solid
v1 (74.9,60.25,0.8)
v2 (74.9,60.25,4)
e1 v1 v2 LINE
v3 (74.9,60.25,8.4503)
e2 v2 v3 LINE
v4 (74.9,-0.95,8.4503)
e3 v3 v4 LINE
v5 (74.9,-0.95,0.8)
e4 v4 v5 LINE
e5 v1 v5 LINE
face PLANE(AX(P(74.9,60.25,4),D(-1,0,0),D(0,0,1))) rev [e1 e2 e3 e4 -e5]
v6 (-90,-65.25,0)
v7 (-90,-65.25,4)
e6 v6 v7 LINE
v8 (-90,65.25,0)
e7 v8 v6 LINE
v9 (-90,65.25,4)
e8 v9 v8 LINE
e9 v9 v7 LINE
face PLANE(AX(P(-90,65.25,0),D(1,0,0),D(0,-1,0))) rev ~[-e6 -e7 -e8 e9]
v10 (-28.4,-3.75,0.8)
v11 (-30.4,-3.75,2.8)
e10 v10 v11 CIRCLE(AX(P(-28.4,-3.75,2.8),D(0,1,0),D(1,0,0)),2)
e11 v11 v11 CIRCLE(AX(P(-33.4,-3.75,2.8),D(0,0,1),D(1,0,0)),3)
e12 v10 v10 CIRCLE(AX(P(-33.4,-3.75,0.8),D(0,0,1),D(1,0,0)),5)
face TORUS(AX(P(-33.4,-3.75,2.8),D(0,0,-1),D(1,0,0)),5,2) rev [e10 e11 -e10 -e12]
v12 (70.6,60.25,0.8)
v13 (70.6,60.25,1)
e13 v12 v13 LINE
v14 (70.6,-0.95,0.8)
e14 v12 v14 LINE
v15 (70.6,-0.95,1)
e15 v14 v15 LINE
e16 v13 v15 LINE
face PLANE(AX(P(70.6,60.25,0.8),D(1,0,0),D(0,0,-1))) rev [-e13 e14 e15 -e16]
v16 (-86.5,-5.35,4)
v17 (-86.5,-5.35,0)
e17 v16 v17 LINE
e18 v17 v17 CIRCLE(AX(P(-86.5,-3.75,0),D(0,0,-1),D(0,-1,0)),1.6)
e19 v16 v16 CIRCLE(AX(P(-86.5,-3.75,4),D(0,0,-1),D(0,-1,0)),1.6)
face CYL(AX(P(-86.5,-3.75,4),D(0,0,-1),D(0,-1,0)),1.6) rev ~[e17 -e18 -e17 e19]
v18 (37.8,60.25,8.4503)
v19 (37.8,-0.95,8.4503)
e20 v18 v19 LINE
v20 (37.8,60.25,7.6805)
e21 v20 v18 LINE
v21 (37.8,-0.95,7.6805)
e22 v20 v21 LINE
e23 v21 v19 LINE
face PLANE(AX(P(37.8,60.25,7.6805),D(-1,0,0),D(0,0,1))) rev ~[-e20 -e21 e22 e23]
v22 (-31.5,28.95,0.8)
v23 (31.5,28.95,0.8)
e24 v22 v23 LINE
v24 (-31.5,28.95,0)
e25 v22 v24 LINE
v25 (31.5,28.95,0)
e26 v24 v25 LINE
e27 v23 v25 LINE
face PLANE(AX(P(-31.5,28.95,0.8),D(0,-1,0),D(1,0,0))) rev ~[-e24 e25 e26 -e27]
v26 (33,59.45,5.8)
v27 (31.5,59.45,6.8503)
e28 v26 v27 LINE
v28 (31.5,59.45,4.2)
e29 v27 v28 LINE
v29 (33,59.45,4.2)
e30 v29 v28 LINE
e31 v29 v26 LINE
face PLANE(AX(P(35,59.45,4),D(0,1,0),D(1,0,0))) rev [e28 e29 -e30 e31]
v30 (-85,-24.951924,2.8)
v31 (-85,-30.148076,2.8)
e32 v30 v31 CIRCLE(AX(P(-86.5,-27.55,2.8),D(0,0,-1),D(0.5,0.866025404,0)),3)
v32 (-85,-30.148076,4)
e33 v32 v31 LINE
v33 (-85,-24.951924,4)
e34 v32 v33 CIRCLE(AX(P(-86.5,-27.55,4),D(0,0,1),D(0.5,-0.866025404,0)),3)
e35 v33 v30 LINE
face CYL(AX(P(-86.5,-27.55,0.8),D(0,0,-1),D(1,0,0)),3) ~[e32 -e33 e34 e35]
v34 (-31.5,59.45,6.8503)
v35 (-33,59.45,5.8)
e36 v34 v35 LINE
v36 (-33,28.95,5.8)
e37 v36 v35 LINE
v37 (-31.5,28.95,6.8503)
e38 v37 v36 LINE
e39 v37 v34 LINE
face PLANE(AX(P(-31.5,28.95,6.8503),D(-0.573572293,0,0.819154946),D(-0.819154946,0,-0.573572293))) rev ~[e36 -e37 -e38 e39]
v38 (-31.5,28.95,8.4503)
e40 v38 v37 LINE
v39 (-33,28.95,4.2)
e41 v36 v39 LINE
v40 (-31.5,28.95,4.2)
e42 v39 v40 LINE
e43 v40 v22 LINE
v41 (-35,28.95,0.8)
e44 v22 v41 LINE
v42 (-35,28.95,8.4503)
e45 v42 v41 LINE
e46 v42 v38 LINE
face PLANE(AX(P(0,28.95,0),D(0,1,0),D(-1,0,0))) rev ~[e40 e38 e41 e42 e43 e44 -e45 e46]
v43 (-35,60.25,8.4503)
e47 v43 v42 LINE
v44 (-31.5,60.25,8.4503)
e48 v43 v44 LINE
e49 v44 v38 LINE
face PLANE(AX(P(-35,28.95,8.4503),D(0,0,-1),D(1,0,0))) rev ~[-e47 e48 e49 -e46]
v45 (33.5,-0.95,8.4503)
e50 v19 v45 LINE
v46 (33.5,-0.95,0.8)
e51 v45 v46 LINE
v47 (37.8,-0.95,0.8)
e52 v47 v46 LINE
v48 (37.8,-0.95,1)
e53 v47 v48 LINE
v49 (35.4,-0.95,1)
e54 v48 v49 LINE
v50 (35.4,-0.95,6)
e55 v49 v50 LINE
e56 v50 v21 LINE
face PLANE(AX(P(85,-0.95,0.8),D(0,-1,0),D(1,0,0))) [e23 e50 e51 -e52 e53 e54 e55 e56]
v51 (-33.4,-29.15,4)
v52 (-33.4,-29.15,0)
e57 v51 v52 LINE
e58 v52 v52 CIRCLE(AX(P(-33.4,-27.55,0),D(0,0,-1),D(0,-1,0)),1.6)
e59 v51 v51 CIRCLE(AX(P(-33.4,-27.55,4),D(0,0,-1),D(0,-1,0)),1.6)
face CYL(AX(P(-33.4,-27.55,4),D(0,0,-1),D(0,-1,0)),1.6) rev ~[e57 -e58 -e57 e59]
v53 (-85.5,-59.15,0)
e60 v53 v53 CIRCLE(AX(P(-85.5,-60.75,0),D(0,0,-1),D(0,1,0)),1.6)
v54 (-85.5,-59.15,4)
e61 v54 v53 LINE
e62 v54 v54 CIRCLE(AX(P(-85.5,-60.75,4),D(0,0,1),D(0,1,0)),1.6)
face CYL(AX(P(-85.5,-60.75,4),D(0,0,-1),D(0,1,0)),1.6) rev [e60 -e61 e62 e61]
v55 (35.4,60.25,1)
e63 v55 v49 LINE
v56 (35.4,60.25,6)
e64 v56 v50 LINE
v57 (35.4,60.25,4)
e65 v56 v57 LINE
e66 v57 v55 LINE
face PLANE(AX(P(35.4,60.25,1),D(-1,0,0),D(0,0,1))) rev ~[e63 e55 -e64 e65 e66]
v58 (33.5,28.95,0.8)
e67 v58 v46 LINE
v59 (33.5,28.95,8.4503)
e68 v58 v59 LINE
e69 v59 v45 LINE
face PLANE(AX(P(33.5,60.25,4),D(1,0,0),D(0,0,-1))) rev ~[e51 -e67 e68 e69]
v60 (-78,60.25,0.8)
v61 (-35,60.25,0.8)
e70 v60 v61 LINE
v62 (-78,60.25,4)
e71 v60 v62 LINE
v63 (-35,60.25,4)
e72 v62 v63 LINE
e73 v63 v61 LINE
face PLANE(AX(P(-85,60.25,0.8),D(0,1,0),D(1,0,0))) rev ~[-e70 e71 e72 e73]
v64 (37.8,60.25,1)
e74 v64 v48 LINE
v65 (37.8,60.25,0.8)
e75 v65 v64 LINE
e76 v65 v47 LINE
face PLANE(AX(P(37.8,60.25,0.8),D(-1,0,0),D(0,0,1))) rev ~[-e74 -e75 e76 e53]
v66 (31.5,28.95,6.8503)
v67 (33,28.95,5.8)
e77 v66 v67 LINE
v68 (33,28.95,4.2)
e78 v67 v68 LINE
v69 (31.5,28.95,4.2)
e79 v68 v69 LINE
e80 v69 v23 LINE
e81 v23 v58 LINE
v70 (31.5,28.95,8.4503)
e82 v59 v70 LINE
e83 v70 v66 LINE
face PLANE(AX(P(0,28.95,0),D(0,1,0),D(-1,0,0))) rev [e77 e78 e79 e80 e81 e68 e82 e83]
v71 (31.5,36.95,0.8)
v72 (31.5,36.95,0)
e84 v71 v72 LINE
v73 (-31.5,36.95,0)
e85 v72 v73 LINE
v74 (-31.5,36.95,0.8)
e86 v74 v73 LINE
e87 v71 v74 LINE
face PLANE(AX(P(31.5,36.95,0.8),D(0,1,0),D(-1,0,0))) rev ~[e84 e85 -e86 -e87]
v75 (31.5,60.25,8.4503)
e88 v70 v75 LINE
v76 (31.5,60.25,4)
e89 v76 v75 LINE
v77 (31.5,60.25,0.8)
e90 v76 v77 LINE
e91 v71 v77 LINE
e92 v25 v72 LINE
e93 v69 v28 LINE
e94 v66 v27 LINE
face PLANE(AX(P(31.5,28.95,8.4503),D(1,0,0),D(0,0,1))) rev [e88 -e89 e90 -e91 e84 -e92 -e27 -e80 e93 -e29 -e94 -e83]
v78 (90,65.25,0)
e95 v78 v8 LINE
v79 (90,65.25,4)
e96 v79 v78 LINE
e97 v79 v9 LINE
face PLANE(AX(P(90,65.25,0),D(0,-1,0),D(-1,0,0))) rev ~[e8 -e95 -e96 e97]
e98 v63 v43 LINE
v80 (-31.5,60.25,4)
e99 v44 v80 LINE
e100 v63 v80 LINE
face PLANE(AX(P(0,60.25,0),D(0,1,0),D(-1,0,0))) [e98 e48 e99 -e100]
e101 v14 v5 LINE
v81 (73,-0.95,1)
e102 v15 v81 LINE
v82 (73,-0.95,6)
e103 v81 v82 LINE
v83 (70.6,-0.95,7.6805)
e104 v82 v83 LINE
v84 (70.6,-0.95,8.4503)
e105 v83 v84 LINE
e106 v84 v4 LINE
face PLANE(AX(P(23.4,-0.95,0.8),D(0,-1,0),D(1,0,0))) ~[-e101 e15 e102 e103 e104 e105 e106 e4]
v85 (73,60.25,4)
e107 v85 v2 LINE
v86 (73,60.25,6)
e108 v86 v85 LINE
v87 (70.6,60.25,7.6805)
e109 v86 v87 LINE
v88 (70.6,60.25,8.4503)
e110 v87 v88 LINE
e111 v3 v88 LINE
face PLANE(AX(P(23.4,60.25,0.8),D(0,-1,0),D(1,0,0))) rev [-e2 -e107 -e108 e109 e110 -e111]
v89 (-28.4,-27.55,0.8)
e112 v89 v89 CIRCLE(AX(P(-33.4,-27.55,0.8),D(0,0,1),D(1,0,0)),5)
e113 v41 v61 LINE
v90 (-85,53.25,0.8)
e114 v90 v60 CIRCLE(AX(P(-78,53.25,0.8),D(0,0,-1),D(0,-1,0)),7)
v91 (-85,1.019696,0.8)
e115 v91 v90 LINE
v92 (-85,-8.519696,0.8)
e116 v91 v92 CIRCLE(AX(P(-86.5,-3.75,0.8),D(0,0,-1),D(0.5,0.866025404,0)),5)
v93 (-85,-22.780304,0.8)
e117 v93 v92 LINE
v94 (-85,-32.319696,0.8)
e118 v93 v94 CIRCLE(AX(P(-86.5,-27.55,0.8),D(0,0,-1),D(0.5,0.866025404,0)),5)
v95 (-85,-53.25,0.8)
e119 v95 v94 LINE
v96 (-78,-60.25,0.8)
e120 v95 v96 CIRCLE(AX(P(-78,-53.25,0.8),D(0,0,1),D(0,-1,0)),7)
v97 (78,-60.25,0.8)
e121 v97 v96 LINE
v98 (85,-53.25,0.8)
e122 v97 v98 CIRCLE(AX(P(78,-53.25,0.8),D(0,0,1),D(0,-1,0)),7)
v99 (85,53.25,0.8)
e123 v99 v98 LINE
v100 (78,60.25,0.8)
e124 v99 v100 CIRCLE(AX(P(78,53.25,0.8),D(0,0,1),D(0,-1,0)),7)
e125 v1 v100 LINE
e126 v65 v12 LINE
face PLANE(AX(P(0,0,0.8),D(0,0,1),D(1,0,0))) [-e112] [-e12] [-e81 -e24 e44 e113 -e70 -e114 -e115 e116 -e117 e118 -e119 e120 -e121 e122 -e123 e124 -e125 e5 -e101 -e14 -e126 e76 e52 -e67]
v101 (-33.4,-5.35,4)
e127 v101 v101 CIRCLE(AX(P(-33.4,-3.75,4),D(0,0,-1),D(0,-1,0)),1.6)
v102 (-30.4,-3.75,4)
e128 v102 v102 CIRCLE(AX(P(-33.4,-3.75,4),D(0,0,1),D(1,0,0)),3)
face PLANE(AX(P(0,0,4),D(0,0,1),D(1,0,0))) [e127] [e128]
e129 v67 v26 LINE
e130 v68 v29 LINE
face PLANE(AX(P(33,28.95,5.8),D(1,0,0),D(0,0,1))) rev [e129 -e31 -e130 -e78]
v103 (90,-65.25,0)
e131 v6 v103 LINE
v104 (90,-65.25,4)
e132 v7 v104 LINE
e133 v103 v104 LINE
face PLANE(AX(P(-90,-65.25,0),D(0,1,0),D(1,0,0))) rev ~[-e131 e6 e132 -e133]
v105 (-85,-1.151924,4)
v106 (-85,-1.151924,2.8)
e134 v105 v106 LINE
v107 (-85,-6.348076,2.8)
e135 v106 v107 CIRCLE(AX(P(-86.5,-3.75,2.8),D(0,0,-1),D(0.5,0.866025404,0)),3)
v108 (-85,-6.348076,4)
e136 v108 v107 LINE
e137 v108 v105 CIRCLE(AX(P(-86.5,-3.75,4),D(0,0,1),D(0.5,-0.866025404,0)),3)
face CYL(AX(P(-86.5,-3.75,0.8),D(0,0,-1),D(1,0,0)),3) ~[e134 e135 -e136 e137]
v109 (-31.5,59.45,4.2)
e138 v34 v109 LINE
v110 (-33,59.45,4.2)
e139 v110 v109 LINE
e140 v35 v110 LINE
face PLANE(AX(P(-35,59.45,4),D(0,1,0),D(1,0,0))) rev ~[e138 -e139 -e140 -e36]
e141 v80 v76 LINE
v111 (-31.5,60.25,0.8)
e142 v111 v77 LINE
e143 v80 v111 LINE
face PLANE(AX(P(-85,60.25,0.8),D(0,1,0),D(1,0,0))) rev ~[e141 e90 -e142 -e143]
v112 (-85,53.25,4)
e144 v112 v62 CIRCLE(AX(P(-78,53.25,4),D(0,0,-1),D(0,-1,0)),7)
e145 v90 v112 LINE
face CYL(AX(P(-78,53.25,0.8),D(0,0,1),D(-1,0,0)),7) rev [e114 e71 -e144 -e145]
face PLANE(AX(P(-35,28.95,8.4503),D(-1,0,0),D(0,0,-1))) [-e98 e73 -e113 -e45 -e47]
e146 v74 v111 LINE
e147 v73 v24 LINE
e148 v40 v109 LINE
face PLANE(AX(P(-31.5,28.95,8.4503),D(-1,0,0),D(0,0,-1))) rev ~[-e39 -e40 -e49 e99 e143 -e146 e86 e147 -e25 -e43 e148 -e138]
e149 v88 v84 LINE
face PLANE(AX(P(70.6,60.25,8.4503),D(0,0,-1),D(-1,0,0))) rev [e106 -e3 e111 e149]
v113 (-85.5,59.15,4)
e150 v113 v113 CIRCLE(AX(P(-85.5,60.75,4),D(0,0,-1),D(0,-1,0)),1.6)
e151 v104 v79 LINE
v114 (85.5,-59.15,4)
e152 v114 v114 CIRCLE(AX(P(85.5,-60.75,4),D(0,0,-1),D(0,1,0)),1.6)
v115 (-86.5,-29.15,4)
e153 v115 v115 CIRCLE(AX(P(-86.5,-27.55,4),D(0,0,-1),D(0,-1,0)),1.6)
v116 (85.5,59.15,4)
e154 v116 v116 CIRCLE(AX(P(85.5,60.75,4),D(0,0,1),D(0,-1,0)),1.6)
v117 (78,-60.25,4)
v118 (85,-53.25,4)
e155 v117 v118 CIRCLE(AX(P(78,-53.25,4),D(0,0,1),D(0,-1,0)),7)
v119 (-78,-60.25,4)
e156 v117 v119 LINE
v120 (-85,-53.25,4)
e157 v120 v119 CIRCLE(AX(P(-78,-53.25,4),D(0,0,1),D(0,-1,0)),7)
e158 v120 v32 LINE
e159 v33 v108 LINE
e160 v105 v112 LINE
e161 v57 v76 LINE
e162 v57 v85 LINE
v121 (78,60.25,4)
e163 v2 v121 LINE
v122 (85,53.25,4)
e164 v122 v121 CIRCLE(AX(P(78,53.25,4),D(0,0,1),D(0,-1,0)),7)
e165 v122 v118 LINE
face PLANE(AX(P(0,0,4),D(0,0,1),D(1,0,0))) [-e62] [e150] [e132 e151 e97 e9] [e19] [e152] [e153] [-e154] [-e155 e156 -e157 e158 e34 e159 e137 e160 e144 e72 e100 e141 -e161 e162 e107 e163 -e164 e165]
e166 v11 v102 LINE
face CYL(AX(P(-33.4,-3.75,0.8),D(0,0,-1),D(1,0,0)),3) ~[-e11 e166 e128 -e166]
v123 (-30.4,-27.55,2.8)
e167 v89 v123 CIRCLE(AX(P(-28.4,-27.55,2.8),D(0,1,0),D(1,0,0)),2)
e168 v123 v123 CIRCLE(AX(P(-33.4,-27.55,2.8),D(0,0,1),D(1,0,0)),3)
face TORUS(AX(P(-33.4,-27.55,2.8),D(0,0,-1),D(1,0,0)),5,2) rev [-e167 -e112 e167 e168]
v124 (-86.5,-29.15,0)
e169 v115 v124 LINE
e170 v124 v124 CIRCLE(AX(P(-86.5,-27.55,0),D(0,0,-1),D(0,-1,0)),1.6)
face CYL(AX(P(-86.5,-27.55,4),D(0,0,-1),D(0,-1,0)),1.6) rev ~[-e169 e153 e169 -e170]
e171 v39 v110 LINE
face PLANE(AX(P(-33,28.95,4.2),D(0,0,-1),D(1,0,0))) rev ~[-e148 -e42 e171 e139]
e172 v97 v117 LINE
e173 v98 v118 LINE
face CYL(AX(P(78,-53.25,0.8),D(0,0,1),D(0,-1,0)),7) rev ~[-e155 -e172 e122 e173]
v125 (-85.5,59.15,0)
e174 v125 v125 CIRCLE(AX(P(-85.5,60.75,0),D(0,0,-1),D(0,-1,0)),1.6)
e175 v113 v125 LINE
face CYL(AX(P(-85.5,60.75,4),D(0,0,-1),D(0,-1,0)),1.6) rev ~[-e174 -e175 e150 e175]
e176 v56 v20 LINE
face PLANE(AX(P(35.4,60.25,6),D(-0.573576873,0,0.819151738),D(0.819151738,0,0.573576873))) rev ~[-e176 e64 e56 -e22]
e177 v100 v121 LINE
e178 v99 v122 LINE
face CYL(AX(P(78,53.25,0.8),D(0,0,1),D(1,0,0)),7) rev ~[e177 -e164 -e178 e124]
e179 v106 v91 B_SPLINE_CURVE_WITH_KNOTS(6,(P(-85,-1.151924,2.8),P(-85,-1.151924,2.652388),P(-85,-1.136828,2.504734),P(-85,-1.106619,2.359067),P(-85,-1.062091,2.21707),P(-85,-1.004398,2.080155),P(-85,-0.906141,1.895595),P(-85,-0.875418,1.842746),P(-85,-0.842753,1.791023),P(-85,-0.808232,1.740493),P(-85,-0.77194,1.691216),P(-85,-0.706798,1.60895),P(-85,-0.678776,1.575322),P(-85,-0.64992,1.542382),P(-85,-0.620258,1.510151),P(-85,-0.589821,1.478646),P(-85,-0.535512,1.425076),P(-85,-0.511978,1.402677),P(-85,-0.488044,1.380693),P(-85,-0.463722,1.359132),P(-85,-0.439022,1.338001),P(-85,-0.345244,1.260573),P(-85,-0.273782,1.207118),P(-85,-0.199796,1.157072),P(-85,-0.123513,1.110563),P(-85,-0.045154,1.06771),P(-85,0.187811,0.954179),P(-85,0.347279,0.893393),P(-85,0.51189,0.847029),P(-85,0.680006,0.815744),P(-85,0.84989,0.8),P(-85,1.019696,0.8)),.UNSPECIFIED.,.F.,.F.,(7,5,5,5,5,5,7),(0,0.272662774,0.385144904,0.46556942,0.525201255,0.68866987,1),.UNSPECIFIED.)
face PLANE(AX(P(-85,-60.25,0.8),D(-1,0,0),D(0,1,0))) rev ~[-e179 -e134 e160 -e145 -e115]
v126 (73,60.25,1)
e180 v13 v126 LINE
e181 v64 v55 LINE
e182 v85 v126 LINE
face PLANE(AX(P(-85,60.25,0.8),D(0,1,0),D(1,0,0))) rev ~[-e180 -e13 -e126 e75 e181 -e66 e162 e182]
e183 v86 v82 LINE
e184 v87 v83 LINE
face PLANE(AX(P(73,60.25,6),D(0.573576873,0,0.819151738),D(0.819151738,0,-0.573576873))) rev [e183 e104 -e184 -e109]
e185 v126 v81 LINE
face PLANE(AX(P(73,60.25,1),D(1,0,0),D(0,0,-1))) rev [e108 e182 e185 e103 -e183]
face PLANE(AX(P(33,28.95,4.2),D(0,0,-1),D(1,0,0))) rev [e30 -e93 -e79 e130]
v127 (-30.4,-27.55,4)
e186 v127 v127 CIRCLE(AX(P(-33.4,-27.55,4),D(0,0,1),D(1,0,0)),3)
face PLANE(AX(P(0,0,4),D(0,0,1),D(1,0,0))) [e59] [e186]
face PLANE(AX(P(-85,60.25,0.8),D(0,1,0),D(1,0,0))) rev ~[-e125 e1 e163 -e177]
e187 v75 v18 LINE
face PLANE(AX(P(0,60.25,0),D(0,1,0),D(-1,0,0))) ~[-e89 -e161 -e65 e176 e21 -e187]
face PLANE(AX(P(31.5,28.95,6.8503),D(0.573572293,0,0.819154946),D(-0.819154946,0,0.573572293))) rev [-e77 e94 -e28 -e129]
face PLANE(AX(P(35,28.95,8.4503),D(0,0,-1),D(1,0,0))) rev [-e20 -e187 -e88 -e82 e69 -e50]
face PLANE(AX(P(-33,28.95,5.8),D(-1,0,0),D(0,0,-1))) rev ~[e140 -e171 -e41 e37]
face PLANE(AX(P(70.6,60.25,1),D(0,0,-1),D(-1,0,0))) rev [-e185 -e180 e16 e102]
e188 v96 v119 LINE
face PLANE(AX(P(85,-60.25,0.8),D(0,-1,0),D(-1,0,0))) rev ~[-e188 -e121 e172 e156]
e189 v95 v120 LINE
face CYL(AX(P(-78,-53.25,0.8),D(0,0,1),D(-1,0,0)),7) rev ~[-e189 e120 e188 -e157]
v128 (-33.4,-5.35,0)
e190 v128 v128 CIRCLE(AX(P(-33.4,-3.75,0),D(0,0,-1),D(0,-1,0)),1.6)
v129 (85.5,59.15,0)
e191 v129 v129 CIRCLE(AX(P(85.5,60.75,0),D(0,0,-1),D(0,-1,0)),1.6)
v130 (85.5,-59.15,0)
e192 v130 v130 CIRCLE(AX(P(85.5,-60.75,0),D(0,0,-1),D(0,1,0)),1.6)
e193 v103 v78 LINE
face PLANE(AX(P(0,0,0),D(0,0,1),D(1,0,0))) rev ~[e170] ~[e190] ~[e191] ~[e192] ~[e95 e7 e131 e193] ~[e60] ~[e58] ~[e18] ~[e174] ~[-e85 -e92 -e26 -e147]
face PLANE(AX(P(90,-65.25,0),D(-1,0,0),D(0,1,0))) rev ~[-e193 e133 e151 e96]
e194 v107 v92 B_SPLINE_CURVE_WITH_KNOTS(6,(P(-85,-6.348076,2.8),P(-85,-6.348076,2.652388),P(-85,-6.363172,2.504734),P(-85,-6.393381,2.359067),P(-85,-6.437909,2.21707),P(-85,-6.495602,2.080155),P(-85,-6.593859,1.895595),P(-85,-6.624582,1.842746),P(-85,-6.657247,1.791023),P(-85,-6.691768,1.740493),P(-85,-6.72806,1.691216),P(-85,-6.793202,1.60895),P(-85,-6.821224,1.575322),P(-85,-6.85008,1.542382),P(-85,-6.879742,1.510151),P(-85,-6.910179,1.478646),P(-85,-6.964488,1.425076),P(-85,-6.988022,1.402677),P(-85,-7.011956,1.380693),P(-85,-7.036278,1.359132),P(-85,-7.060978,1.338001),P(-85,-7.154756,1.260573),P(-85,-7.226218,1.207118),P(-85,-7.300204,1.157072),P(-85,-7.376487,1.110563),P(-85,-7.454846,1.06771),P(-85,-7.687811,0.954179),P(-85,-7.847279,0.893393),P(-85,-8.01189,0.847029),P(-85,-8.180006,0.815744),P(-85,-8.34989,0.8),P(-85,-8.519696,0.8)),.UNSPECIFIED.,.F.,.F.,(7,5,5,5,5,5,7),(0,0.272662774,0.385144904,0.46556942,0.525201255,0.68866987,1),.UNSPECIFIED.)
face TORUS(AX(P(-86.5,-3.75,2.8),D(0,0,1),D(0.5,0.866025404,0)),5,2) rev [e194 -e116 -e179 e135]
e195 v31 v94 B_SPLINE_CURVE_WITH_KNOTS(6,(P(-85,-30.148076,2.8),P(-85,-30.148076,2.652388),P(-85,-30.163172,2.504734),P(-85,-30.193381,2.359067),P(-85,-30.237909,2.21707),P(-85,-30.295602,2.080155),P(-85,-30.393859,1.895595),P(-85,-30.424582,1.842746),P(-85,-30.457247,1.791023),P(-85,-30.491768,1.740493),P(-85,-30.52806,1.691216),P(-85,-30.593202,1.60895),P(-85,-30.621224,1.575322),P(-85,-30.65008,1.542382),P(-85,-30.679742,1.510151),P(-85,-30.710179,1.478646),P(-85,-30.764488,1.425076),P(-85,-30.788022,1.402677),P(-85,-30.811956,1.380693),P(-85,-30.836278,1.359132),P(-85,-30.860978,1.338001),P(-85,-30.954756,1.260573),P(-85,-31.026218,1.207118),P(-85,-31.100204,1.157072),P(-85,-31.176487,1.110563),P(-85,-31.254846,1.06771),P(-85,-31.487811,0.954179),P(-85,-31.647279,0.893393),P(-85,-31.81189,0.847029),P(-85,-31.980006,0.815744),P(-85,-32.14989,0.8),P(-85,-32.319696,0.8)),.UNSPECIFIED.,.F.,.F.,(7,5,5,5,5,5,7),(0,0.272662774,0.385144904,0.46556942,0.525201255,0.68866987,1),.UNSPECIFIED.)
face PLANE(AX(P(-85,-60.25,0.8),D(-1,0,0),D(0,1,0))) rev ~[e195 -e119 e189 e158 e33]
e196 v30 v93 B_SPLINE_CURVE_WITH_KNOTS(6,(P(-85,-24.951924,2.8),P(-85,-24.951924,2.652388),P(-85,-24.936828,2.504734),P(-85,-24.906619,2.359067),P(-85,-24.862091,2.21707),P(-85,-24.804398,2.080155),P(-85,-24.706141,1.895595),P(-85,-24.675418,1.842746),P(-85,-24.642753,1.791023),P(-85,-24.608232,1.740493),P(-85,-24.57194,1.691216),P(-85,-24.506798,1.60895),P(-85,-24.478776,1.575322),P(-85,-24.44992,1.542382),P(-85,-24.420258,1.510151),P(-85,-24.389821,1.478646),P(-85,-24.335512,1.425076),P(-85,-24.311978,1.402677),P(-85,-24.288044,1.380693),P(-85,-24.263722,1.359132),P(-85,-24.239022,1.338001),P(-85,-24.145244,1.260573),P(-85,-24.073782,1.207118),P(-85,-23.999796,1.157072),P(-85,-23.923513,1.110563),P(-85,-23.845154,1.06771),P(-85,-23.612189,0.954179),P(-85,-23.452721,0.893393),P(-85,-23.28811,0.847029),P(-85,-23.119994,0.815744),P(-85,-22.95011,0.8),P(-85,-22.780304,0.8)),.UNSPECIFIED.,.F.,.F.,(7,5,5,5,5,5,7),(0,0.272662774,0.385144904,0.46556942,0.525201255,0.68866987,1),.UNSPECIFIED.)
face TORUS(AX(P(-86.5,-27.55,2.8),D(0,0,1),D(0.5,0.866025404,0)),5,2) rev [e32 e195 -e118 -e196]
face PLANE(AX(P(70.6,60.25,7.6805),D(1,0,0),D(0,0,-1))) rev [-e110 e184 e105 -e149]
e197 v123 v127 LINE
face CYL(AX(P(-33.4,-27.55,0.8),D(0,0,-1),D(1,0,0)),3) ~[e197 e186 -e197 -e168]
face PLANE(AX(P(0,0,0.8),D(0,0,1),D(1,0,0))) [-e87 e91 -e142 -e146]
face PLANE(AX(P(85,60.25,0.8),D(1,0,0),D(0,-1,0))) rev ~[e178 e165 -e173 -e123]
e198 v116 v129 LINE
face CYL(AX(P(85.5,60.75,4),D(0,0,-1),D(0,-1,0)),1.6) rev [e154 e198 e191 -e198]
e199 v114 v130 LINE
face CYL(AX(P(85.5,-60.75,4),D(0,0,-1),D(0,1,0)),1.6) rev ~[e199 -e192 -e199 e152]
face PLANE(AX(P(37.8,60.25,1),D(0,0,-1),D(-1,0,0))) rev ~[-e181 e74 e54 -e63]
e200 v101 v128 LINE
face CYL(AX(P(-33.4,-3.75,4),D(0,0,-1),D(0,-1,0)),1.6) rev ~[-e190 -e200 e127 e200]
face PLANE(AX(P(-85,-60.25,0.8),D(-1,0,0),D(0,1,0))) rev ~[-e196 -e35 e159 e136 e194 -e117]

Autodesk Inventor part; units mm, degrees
ref_plane "YZ Plane" through (0, 0, 0) normal (1, 0, 0) x (0, 1, 0)
ref_plane "XY Plane" through (0, 0, 0) normal (0, 0, 1) x (1, 0, 0)
sketch "Skizze1" plane through (0, 0, 0) normal (0, 0, 1) x (1, 0, 0)
  line L0 (-90, -65.25) -> (90, -65.25)
  line L1 (90, -65.25) -> (90, 65.25)
  line L2 (90, 65.25) -> (-90, 65.25)
  line L3 (-90, 65.25) -> (-90, -65.25)
  line L4 (-90, -65.25) -> (90, 65.25) construction
  line L5 (90, -65.25) -> (-90, 65.25) construction
  point P0 (0, 0)
  dimension "d0" = 180
  dimension "d1" = 130.5
extrude "Extrusion1" add sketch "Skizze1" along normal blind 0.8
sketch "Skizze2" plane through (0, 0, 0.8) normal (0, 0, 1) x (1, 0, 0)
  line L0 (90, -65.25) -> (90, 65.25) projected
  line L1 (90, 65.25) -> (-90, 65.25) projected
  line L2 (-90, 65.25) -> (-90, -65.25) projected
  line L3 (-90, -65.25) -> (90, -65.25) projected
  line L4 (-85, 60.25) -> (85, 60.25)
  line L5 (85, 60.25) -> (85, -60.25)
  line L6 (85, -60.25) -> (-85, -60.25)
  line L7 (-85, -60.25) -> (-85, 60.25)
  point P0 (0, 0)
  dimension "d4" = 5
extrude "Extrusion2" add sketch "Skizze2" along normal blind 3.2
ref_plane "Arbeitsebene1" through (0, 28.95, 0) normal (0, 1, 0) x (-1, 0, 0)
sketch "Skizze4" plane through (0, 28.95, 0) normal (0, 1, 0) x (-1, 0, 0)
  line L0 (0, 0) -> (0, 5.6907) construction
  line L1 (-85, 0.8) -> (85, 0.8) projected
  line L2 (31.5, 0.8) -> (35, 0.8)
  line L3 (35, 8.4503) -> (31.5, 8.4503)
  line L4 (35, 8.4503) -> (35, 0.8)
  line L5 (31.5, 8.4503) -> (31.5, 6.8503)
  line L6 (31.5, 6.8503) -> (33, 5.8)
  line L7 (33, 5.8) -> (31.5, 6.8503)
  line L8 (33, 5.8) -> (33, 4.2)
  line L9 (33, 4.2) -> (31.5, 4.2)
  line L10 (31.5, 4.2) -> (31.5, 0.8)
  line L11 (-90, 0) -> (90, 0) projected
  dimension "d8" = 33
  dimension "d9" = 1.6
  dimension "d11" = 125
  dimension "d12" = 1.5
  dimension "d13" = 1.6
  dimension "d14" = 2
  dimension "d17" = 4.2
extrude "Extrusion3" add sketch "Skizze4" along normal up to surface (31.3 mm away)
sketch "Skizze5" plane through (-35, 60.25, 4) normal (0, 1, 0) x (1, 0, 0)
  line L0 (0, -4.4503) -> (3.5, -4.4503) projected
  line L1 (2, -0.2) -> (3.5, -0.2) projected
  line L2 (3.5, -4.4503) -> (3.5, -0.2)
  line L3 (3.5, -0.2) -> (0, -0.2)
  line L4 (0, 3.2) -> (0, -4.4503) projected
  line L5 (0, -0.2) -> (0, -4.4503)
  line L6 (0, -4.4503) -> (3.5, -4.4503)
  point P0 (35, 4)
  point P1 (0, -0.2)
  point P2 (0, 4.4503)
  point P3 (3.5, 4.4503)
  point P4 (2, 0.2)
  point P5 (3.5, 0.2)
  point P6 (0, 0)
  point P7 (0, -3.2)
extrude "Extrusion4" add sketch "Skizze5" against normal blind 0.8
mirror "Spiegeln1" about plane through (0, 0, 0) normal (1, 0, 0) of "Extrusion3", "Extrusion4"
sketch "Skizze6" plane through (0, 0, 0.8) normal (0, 0, 1) x (1, 0, 0)
  line L0 (-31.5, 28.95) -> (-35, 28.95) projected
  line L1 (31.5, 28.95) -> (31.5, 60.25) projected
  line L2 (-31.5, 28.95) -> (31.5, 28.95)
  line L3 (31.5, 28.95) -> (31.5, 36.95)
  line L4 (31.5, 36.95) -> (-31.5, 36.95)
  line L5 (-31.5, 36.95) -> (-31.5, 28.95)
  point P0 (0, 0)
  dimension "d20" = 8
extrude "Extrusion5" cut sketch "Skizze6" against normal up to surface (0.8 mm away)
sketch "Skizze7" plane through (85, 60.25, 0.8) normal (0, -1, 0) x (1, 0, 0)
  line L0 (0, 0) -> (-50, 0) projected
  line L1 (-47.2, 0) -> (-47.2, 0.2)
  line L2 (-47.2, 0.2) -> (-49.6, 0.2)
  line L3 (-49.6, 0.2) -> (-49.6, 5.2)
  line L4 (5, 3.2) -> (-175, 3.2) projected
  line L5 (-49.6, 5.2) -> (-47.2, 6.8805)
  line L6 (-47.2, 6.8805) -> (-47.2, 7.6503)
  line L7 (-47.2, 7.6503) -> (-51.5, 7.6503)
  line L8 (-51.5, 7.6503) -> (-51.5, 0)
  line L9 (-51.5, 0) -> (-47.2, 0)
  line L10 (-50, 0) -> (-50, 7.6503) projected
  line L11 (-50, 7.6503) -> (-53.5, 7.6503) projected
  point P0 (-85, -0.8)
  point P1 (-50, 3.2)
  dimension "d23" = 0.2
  dimension "d24" = 5
  dimension "d25" = 125
  dimension "d26" = 2.4
  dimension "d31" = 1.5
  dimension "d32" = 0.4
extrude "Extrusion6" add sketch "Skizze7" along normal blind 61.2
ref_plane "Arbeitsebene2" through (54.2, 60.25, 6) normal (1, 0, 0) x (0, 0, -1)
mirror "Spiegeln2" about plane through (54.2, 60.25, 6) normal (1, 0, 0) of "Extrusion6"
sketch "Skizze8" plane through (0, 0, 0.8) normal (0, 0, 1) x (1, 0, 0)
  circle A0 centre (-86.5, -3.75) radius 3
  circle A1 centre (-33.4, -3.75) radius 3
  circle A2 centre (-33.4, -27.55) radius 3
  circle A3 centre (-86.5, -27.55) radius 3
  line L0 (-33.4, -27.55) -> (-33.4, -3.75) construction
  line L1 (-35, 28.95) -> (-35, 60.25) projected
  line L2 (-35, 28.95) -> (-35, -60.25) construction
  line L3 (85, -60.25) -> (-85, -60.25) projected
  line L4 (-33.4, -15.65) -> (-35, -15.65) construction
  line L5 (-90, 65.25) -> (-90, -65.25) projected
  point P0 (0, 0)
  dimension "d33" = 53.1
  dimension "d34" = 23.8
  dimension "d35" = 6
  dimension "d36" = 3.5
extrude "Extrusion7" add sketch "Skizze8" along normal blind 3.2
sketch "Skizze9" plane through (-33.4, -3.75, 4) normal (0, 0, 1) x (1, 0, 0)
  circle A0 centre (0, 0) radius 3 projected
  circle A1 centre (0, -23.8) radius 3 projected
  arc A2 (-51.6, -2.5981) -> (-51.6, 2.5981) centre (-53.1, 0) ccw projected
  arc A3 (-51.6, -26.3981) -> (-51.6, -21.2019) centre (-53.1, -23.8) ccw projected
  point P0 (33.4, 3.75)
hole "Bohrung1" at (-33.4, -3.75, 4) at (-33.4, -27.55, 4) at (-86.5, -3.75, 4) at (-86.5, -27.55, 4) direction (0, 0, -1) diameter 3.2 end through all
fillet "Rundung1" radius 2 4 edges at (-83.5, -3.75, 0.8) (-83.5, -27.55, 0.8) (-36.4, -27.55, 0.8) (-36.4, -3.75, 0.8)
fillet "Rundung2" radius 7 4 edges at (-85, 60.25, 2.4) (85, 60.25, 2.4) (85, -60.25, 2.4) (-85, -60.25, 2.4)
sketch "Skizze10" plane through (0, 0, 4) normal (0, 0, 1) x (1, 0, 0)
  line L0 (90, 65.25) -> (-90, 65.25) projected
  line L1 (-90, 65.25) -> (-90, -65.25) projected
  point P0 (0, 0)
  point P1 (-85.5, 60.75)
  dimension "d48" = 4.5
  dimension "d49" = 4.5
hole "Bohrung2" at (-85.5, 60.75, 4) direction (0, 0, -1) diameter 3.2 depth 15
mirror "Spiegeln3" about plane through (0, 0, 0) normal (1, 0, 0) of "Bohrung2"
mirror "Spiegeln4" about plane through (0, 0, 0) normal (0, 1, 0) of "Bohrung2", "Spiegeln3"
equation "\"d49\" = d48"
properties part number "Back Cover v5"
